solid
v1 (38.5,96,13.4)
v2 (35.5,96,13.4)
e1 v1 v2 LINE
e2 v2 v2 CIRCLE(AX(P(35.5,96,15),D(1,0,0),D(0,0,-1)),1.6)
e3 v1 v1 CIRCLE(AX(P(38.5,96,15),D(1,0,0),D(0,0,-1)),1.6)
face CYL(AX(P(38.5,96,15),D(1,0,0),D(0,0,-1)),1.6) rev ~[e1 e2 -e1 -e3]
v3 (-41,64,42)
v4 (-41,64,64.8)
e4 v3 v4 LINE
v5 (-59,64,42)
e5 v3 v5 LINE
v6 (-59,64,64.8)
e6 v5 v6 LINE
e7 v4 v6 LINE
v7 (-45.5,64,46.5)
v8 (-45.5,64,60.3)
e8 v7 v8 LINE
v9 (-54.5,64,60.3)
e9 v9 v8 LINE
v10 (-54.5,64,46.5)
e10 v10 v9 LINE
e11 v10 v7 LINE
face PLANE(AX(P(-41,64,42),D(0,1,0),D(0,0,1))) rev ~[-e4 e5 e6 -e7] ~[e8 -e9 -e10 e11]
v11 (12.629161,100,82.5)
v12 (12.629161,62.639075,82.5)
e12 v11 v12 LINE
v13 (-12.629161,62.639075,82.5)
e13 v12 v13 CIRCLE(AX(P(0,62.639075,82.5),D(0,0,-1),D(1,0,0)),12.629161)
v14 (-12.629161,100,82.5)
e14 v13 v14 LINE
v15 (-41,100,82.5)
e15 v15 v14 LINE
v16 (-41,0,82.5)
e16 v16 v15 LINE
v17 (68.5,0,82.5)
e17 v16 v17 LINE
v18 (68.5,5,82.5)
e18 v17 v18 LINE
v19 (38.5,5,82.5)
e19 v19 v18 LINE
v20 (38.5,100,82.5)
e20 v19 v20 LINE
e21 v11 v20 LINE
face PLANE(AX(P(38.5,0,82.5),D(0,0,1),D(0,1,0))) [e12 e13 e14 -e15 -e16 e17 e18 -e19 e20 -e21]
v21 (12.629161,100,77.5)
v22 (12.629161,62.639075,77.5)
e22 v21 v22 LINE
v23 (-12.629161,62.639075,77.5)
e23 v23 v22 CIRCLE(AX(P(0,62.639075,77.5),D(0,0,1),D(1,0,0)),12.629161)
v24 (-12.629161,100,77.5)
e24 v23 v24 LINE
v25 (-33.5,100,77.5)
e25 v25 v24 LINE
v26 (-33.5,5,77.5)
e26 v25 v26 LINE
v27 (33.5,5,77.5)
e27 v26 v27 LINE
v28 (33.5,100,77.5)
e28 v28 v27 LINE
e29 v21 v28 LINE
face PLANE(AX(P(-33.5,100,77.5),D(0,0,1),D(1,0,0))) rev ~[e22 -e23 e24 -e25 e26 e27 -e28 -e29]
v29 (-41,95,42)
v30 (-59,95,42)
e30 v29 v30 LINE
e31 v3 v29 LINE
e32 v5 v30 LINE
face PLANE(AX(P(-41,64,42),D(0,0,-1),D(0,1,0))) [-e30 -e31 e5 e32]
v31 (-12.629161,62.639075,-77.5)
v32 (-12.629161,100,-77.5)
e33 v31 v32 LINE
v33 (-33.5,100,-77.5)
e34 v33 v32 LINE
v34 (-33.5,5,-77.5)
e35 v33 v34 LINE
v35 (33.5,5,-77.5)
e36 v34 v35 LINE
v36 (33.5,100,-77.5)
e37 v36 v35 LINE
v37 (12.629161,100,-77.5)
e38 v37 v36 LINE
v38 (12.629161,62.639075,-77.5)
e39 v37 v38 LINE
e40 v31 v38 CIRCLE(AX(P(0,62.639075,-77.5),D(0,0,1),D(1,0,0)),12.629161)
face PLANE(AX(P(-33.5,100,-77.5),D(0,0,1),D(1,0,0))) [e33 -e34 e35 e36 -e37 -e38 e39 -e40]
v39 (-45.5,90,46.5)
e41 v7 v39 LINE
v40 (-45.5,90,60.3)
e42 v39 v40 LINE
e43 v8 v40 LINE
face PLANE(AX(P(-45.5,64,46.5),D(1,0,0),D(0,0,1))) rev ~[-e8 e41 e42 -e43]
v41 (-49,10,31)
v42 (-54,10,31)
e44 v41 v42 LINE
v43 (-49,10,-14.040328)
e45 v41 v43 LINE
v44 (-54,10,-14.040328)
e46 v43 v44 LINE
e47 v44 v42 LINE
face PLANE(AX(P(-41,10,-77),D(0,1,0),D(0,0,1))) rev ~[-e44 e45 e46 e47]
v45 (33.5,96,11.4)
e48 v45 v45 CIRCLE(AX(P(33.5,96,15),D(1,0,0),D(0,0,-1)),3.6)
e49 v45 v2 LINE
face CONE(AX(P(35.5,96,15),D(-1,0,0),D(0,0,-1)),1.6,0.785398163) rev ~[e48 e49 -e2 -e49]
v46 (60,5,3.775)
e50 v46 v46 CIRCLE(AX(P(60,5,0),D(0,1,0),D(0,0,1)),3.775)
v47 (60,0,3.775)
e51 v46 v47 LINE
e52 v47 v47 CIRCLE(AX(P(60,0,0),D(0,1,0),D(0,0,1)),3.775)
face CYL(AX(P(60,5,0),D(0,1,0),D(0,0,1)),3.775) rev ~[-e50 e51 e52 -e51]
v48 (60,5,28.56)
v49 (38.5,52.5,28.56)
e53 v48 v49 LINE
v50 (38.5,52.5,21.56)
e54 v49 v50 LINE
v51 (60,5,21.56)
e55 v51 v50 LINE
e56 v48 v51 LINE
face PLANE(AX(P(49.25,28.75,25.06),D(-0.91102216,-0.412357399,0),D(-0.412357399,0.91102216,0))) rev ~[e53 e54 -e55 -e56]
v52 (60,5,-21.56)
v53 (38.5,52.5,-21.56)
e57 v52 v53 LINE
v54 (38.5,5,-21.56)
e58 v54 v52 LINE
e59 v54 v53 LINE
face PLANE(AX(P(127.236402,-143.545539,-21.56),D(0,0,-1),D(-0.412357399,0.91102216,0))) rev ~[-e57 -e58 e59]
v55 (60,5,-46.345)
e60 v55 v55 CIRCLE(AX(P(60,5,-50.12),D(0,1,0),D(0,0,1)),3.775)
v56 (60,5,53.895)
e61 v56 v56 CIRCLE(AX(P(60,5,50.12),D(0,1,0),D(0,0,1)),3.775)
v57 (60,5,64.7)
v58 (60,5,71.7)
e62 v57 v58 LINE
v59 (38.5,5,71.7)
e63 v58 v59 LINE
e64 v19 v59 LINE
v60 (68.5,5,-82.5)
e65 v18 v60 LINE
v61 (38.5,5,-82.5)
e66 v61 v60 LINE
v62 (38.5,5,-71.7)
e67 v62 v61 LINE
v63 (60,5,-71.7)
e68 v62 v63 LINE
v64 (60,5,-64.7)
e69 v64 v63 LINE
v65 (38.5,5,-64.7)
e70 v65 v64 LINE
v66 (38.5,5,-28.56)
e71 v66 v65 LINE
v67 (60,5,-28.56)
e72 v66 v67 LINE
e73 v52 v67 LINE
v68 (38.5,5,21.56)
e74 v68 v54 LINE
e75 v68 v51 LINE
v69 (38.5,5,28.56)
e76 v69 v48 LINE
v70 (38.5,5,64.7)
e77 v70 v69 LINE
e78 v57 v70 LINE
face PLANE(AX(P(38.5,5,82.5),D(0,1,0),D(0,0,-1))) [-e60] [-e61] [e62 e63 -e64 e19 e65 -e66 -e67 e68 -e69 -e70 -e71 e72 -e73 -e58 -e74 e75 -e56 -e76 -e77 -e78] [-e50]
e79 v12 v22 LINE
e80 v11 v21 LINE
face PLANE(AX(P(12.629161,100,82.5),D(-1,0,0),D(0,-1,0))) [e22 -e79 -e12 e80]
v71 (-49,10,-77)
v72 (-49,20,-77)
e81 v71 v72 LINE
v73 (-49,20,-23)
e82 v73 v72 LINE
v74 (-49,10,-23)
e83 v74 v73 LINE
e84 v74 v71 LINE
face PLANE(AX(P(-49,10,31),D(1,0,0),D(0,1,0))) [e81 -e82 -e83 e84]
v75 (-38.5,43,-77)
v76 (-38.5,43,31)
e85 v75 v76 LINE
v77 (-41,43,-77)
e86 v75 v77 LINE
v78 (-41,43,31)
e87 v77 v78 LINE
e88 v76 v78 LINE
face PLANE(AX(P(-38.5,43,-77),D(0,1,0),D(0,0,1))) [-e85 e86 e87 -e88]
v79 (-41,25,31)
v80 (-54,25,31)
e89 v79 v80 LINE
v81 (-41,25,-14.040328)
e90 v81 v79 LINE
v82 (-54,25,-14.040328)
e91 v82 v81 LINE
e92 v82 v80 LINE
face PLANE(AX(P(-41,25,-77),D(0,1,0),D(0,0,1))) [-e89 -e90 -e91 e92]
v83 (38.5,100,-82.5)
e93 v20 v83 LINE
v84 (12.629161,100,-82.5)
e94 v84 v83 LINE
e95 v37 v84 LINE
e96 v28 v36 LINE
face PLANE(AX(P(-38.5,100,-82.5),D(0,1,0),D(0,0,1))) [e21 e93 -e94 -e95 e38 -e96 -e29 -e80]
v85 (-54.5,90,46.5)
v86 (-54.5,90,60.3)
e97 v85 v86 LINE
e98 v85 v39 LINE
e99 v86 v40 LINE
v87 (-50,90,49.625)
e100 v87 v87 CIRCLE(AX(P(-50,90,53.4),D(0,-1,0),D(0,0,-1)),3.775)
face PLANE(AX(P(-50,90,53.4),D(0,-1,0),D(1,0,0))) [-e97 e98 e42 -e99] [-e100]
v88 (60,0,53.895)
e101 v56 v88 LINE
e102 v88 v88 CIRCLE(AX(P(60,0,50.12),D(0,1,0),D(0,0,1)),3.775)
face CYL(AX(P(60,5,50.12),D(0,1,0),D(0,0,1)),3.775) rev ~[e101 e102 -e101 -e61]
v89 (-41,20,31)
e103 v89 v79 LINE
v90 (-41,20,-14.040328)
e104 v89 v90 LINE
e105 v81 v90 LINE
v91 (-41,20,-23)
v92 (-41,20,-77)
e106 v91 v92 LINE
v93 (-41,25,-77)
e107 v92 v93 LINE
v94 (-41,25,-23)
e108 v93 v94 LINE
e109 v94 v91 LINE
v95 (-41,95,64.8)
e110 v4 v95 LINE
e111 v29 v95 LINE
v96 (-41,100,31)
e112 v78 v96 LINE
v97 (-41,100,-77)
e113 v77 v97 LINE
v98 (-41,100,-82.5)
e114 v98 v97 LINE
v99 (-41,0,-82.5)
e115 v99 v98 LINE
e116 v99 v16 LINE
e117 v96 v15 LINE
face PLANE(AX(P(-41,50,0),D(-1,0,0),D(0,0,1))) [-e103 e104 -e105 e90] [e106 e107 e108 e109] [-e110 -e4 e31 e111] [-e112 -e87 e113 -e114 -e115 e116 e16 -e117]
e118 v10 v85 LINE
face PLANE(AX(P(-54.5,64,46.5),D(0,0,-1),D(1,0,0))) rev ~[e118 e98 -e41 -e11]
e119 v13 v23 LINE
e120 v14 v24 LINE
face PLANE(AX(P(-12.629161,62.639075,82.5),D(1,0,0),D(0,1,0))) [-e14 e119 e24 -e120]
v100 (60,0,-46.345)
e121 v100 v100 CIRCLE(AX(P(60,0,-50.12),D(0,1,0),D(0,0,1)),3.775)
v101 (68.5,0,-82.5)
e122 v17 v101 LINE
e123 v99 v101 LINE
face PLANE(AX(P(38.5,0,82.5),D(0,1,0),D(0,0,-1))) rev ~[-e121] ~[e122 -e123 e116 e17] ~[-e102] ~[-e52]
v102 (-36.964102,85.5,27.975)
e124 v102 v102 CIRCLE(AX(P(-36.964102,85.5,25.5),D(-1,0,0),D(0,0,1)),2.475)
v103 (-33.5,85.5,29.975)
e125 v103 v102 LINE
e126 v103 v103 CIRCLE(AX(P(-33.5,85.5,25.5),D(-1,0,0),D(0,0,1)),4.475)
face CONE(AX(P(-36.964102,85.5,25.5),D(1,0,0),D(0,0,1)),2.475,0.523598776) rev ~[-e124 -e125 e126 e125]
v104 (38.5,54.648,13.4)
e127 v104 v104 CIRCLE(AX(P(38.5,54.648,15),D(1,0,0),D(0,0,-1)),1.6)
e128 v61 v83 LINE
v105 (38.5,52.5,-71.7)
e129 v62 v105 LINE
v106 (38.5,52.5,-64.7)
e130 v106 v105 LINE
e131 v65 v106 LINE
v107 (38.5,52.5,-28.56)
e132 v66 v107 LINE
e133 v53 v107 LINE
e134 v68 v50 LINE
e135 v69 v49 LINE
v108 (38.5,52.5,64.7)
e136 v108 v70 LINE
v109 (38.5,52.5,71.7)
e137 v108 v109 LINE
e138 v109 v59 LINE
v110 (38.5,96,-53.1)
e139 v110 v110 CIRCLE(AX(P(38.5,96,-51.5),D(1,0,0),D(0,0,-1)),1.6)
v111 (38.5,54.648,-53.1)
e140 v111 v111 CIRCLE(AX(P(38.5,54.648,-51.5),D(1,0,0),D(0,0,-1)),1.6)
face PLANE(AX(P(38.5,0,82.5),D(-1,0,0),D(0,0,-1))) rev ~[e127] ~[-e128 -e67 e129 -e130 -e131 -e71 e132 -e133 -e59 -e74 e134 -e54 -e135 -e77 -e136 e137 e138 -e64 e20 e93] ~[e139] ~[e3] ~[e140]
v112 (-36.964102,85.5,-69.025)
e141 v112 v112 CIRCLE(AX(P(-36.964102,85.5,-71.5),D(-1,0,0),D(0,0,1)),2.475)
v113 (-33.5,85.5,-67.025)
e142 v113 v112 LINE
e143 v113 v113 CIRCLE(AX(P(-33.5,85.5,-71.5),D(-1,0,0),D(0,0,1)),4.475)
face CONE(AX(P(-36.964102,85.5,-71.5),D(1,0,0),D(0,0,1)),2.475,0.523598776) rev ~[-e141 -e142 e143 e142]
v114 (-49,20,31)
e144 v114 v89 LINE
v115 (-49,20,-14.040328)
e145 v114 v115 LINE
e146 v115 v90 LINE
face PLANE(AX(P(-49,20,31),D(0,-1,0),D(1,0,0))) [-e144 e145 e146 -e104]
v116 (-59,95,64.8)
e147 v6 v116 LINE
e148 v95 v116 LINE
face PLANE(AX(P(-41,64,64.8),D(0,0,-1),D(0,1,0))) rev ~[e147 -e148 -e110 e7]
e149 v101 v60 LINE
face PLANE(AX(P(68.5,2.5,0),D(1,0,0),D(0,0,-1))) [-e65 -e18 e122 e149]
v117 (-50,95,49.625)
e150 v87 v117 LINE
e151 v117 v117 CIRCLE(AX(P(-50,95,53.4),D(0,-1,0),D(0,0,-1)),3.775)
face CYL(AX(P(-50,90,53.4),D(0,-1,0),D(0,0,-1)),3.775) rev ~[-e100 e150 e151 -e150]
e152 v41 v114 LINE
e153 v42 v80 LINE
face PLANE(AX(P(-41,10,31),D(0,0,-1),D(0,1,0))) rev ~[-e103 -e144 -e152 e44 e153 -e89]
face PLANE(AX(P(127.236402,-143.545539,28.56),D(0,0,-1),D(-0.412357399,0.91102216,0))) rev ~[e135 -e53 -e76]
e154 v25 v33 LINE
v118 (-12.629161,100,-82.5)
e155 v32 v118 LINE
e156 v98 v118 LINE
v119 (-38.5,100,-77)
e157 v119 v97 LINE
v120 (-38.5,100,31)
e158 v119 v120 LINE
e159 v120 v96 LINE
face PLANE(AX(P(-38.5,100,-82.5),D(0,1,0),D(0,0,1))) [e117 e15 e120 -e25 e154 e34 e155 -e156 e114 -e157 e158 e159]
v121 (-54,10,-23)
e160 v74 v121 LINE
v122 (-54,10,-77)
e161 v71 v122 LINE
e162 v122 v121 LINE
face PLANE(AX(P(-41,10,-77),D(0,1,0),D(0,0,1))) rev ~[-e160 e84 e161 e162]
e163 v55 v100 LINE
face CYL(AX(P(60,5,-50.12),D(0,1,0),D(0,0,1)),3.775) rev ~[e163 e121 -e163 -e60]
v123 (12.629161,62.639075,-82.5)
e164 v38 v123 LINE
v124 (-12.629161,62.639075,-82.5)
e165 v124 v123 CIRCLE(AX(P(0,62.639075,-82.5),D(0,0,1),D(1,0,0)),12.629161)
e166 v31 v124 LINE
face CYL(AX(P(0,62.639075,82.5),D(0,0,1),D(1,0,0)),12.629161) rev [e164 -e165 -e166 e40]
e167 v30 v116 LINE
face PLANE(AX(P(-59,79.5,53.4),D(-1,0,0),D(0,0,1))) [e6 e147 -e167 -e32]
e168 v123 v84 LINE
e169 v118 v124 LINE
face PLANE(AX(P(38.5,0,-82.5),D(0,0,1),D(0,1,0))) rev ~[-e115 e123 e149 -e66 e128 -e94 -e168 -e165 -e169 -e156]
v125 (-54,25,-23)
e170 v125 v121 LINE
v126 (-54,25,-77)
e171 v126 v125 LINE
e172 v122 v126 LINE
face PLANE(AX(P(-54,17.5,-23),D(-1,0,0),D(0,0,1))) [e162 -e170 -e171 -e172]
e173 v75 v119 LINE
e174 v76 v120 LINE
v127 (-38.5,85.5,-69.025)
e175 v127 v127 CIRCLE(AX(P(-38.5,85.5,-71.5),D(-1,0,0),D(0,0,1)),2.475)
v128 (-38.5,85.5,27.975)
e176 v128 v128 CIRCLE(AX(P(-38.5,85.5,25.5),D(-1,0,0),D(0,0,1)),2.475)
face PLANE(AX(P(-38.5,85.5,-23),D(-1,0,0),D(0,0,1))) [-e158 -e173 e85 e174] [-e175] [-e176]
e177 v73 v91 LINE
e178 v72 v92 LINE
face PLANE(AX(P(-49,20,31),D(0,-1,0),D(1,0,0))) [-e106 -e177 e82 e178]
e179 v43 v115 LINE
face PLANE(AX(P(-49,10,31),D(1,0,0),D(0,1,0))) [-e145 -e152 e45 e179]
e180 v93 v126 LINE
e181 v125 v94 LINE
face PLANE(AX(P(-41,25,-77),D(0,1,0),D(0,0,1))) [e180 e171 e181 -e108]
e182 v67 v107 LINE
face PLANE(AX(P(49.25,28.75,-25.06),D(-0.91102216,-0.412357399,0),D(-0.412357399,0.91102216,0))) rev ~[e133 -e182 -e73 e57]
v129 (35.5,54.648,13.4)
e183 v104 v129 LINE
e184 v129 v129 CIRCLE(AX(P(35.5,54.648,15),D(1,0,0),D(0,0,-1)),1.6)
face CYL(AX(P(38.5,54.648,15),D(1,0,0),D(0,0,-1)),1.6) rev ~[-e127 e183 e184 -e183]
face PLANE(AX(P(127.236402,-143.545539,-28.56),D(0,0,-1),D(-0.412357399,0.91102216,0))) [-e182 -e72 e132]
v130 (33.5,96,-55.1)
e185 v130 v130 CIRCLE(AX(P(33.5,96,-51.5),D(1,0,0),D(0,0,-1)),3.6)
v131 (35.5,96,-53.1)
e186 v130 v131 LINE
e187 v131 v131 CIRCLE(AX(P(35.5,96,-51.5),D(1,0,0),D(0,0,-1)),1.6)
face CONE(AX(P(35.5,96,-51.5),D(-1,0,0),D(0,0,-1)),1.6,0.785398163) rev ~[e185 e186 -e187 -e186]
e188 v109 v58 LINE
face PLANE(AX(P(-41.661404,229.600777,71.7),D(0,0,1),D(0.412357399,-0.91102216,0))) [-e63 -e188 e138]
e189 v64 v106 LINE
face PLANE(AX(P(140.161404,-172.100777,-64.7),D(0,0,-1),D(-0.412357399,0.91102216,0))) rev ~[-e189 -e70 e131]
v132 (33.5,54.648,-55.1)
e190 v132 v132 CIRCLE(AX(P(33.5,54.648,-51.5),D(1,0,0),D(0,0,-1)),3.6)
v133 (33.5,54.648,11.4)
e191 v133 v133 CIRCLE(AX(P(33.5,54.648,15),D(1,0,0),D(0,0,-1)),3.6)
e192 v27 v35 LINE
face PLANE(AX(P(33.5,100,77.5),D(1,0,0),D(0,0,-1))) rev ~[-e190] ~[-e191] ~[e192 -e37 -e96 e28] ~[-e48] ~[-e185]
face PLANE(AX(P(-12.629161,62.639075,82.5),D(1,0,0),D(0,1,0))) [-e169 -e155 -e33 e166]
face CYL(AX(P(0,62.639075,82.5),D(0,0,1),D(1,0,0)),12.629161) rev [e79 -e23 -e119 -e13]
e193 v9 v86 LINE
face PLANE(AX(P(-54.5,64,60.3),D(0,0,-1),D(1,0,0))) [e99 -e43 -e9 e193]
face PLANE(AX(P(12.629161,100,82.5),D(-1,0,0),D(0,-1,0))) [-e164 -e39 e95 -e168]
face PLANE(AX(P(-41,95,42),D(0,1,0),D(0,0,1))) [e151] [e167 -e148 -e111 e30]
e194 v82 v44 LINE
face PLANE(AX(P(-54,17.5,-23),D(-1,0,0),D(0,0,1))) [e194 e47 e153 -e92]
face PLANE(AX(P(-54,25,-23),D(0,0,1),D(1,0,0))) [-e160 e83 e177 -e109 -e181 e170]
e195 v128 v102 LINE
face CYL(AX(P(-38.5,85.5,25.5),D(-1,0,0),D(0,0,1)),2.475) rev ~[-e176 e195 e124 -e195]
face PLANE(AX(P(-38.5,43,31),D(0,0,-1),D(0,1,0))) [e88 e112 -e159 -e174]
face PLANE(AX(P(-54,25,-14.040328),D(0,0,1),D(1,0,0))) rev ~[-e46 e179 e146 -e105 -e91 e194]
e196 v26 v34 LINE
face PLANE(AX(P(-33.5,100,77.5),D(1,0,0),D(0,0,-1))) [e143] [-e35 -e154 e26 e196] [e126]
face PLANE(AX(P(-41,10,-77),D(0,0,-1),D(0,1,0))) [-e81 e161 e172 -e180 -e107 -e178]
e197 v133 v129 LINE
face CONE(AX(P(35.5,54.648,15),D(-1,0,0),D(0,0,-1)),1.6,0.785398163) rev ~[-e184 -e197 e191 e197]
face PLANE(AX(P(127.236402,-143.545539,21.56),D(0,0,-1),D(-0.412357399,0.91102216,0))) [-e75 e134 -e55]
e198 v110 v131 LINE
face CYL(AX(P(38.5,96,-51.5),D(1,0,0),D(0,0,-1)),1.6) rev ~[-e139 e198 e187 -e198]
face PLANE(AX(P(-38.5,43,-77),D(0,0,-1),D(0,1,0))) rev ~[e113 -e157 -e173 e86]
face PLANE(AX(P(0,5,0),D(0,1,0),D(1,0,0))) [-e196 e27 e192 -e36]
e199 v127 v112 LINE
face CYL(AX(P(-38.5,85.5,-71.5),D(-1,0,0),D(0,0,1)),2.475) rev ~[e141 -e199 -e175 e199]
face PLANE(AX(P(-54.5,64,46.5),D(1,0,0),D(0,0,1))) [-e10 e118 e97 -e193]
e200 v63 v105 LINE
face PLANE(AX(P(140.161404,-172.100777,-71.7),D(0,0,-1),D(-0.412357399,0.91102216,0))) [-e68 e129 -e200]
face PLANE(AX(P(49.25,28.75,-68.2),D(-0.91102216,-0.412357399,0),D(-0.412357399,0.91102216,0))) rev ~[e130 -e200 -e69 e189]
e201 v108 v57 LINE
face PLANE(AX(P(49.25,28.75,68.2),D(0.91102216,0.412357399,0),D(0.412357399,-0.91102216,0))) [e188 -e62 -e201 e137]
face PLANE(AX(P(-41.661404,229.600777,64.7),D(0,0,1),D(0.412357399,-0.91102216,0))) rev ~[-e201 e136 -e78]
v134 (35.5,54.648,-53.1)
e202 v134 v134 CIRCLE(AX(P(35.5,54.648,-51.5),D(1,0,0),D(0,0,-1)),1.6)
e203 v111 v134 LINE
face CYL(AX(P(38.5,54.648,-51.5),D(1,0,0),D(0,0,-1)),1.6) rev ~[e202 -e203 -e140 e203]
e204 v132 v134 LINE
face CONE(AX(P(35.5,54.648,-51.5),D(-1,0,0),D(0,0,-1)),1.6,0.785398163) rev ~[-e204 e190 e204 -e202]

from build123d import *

# Parameters (mm, degrees)
SKETCH1_W           = 77
SKETCH1_H           = 165
BOSS_EXTRUDE2_DEPTH = 100
SKETCH4_W           = 67
SKETCH4_H           = 155
CUT_EXTRUDE1_DEPTH  = 95
SKETCH7_W           = 165
SKETCH7_H           = 100
BOSS_EXTRUDE4_DEPTH = 2.5
SKETCH5_W           = 108
SKETCH5_H           = 85
CUT_EXTRUDE2_DEPTH  = 2.5
CUT_EXTRUDE3_REACH  = 152.782
SKETCH9_R           = 2.475
CUT_EXTRUDE4_DEPTH  = 198.24603925
SKETCH11_W          = 165
SKETCH11_H          = 5
BOSS_EXTRUDE5_DEPTH = 30
SKETCH12_R          = 3.775
CUT_EXTRUDE5_DEPTH  = 144.260252687
RIB2_REACH          = 164.054
SKETCH17_WALL_W     = 378.24664849
SKETCH17_WALL_H     = 7
RIB3_REACH          = 195.398
SKETCH18_WALL_W     = 440.934996724
SKETCH18_WALL_H     = 7
RIB5_REACH          = 195.398
SKETCH20_WALL_W     = 440.934996724
SKETCH20_WALL_H     = 7
RIB6_REACH          = 164.054
SKETCH19_WALL_W     = 378.24664849
SKETCH19_WALL_H     = 7
SKETCH21_W          = 108
SKETCH21_H          = 15
BOSS_EXTRUDE6_DEPTH = 13
CUT_EXTRUDE6_REACH  = 168.056
SKETCH23_W          = 8
SKETCH23_H          = 10
SKETCH24_W          = 22.8
SKETCH24_H          = 31
BOSS_EXTRUDE7_DEPTH = 18
CHAMFER1_SIZE       = 2
CHAMFER1_SIZE2      = 3.464101615
CHAMFER2_SIZE       = 2
CHAMFER2_SIZE2      = 3.464101615
SKETCH25_W          = 9
SKETCH25_H          = 13.8
CUT_EXTRUDE7_DEPTH  = 26
CUT_EXTRUDE8_REACH  = 141.995
SKETCH26_R          = 3.775
CUT_EXTRUDE10_REACH = 164.211
SKETCH28_R          = 1.6
CHAMFER3_SIZE       = 2
CHAMFER4_SIZE       = 2
CHAMFER5_SIZE       = 2
CHAMFER6_SIZE       = 2
CUT_EXTRUDE11_REACH = 132.857
SKETCH29_W          = 13
SKETCH29_H          = 8.959672406


with BuildPart() as part:
    # Sketch1 → Boss-Extrude2 (new body)
    with BuildSketch(Plane(origin=(0, 0, 0), x_dir=(1, 0, 0), z_dir=(0, 1, 0))):
        Rectangle(SKETCH1_W, SKETCH1_H)
    extrude(amount=BOSS_EXTRUDE2_DEPTH)

    # Sketch4 → Cut-Extrude1 (cut)
    with BuildSketch(Plane(origin=(0, 100, 0), x_dir=(1, 0, 0), z_dir=(0, 1, 0))):
        Rectangle(SKETCH4_W, SKETCH4_H)
    extrude(amount=-CUT_EXTRUDE1_DEPTH, mode=Mode.SUBTRACT)

    # Sketch7 → Boss-Extrude4 (add)
    with BuildSketch(Plane.ZY.offset(38.5)):
        with Locations((0, 50)):
            Rectangle(SKETCH7_W, SKETCH7_H)
    extrude(amount=BOSS_EXTRUDE4_DEPTH)

    # Sketch5 → Cut-Extrude2 (cut)
    with BuildSketch(Plane.ZY.offset(38.5)):
        with Locations((-23, 85.5)):
            Rectangle(SKETCH5_W, SKETCH5_H)
    extrude(amount=CUT_EXTRUDE2_DEPTH, mode=Mode.SUBTRACT)

    # Sketch9 → Cut-Extrude3 (cut, up to next)
    with BuildSketch(Plane.ZY.offset(38.5), mode=Mode.PRIVATE) as cut_extrude3_sk1:
        with Locations((-71.5, 85.5)):
            Circle(SKETCH9_R)
    cut_extrude3_tool1 = extrude(cut_extrude3_sk1.sketch, amount=-CUT_EXTRUDE3_REACH, mode=Mode.PRIVATE) & part.part
    # Sketch9 → Cut-Extrude3 (cut, up to next)
    with BuildSketch(Plane.ZY.offset(38.5), mode=Mode.PRIVATE) as cut_extrude3_sk2:
        with Locations((25.5, 85.5)):
            Circle(SKETCH9_R)
    cut_extrude3_tool2 = extrude(cut_extrude3_sk2.sketch, amount=-CUT_EXTRUDE3_REACH, mode=Mode.PRIVATE) & part.part
    add(cut_extrude3_tool1.solids().sort_by_distance((-38.5, 85.5, -71.5))[0], mode=Mode.SUBTRACT)
    add(cut_extrude3_tool2.solids().sort_by_distance((-38.5, 85.5, 25.5))[0], mode=Mode.SUBTRACT)

    # Sketch10 → Cut-Extrude4 (cut, through all)
    with BuildSketch(Plane.XY.offset(82.5)):
        with BuildLine():
            Line((12.62916064, 100), (12.62916064, 62.639075144))
            ThreePointArc((12.62916064, 62.639075144), (0, 50.009914504), (-12.62916064, 62.639075144))
            Line((-12.62916064, 62.639075144), (-12.62916064, 100))
            ThreePointArc((-12.62916064, 100), (0, 112.62916064), (12.62916064, 100))
        make_face()
    extrude(amount=-CUT_EXTRUDE4_DEPTH, mode=Mode.SUBTRACT)

    # Sketch11 → Boss-Extrude5 (add)
    with BuildSketch(Plane(origin=(38.5, 0, 0), x_dir=(0, 0, -1), z_dir=(1, 0, 0))):
        with Locations((0, 2.5)):
            Rectangle(SKETCH11_W, SKETCH11_H)
    extrude(amount=BOSS_EXTRUDE5_DEPTH)

    # Sketch12 → Cut-Extrude5 (cut, through all)
    with BuildSketch(Plane(origin=(0, 5, 0), x_dir=(1, 0, 0), z_dir=(0, 1, 0))):
        with Locations((60, 50.12)):
            Circle(SKETCH12_R)
        with Locations((60, 0)):
            Circle(SKETCH12_R)
        with Locations((60, -50.12)):
            Circle(SKETCH12_R)
    extrude(amount=-CUT_EXTRUDE5_DEPTH, mode=Mode.SUBTRACT)

    # Sketch17 wall → Rib2 (add, up to next)
    with BuildSketch(Plane(origin=(49.25, 28.75, 25.06), x_dir=(-0.412357398674, 0.911022159861, 0), z_dir=(-0.911022159861, -0.412357398674, 0)), mode=Mode.PRIVATE) as rib2_sk1:
        Rectangle(SKETCH17_WALL_W, SKETCH17_WALL_H)
    rib2_tool1 = extrude(rib2_sk1.sketch, amount=RIB2_REACH, mode=Mode.PRIVATE) - part.part
    add(rib2_tool1.solids().sort_by_distance((49.25, 28.75, 25.06))[0])

    # Sketch18 wall → Rib3 (add, up to next)
    with BuildSketch(Plane(origin=(49.25, 28.75, 68.2), x_dir=(0.412357398674, -0.911022159861, 0), z_dir=(0.911022159861, 0.412357398674, 0)), mode=Mode.PRIVATE) as rib3_sk1:
        Rectangle(SKETCH18_WALL_W, SKETCH18_WALL_H)
    rib3_tool1 = extrude(rib3_sk1.sketch, amount=-RIB3_REACH, mode=Mode.PRIVATE) - part.part
    add(rib3_tool1.solids().sort_by_distance((49.25, 28.75, 68.2))[0])

    # Sketch20 wall → Rib5 (add, up to next)
    with BuildSketch(Plane(origin=(49.25, 28.75, -68.2), x_dir=(-0.412357398674, 0.911022159861, 0), z_dir=(-0.911022159861, -0.412357398674, 0)), mode=Mode.PRIVATE) as rib5_sk1:
        Rectangle(SKETCH20_WALL_W, SKETCH20_WALL_H)
    rib5_tool1 = extrude(rib5_sk1.sketch, amount=RIB5_REACH, mode=Mode.PRIVATE) - part.part
    add(rib5_tool1.solids().sort_by_distance((49.25, 28.75, -68.2))[0])

    # Sketch19 wall → Rib6 (add, up to next)
    with BuildSketch(Plane(origin=(49.25, 28.75, -25.06), x_dir=(-0.412357398674, 0.911022159861, 0), z_dir=(-0.911022159861, -0.412357398674, 0)), mode=Mode.PRIVATE) as rib6_sk1:
        Rectangle(SKETCH19_WALL_W, SKETCH19_WALL_H)
    rib6_tool1 = extrude(rib6_sk1.sketch, amount=RIB6_REACH, mode=Mode.PRIVATE) - part.part
    add(rib6_tool1.solids().sort_by_distance((49.25, 28.75, -25.06))[0])

    # Sketch21 → Boss-Extrude6 (add)
    with BuildSketch(Plane.ZY.offset(41)):
        with Locations((-23, 17.5)):
            Rectangle(SKETCH21_W, SKETCH21_H)
    extrude(amount=BOSS_EXTRUDE6_DEPTH)

    # Sketch23 → Cut-Extrude6 (cut, up to next)
    with BuildSketch(Plane.XY.offset(31), mode=Mode.PRIVATE) as cut_extrude6_sk1:
        with Locations((-45, 15)):
            Rectangle(SKETCH23_W, SKETCH23_H)
    cut_extrude6_tool1 = extrude(cut_extrude6_sk1.sketch, amount=-CUT_EXTRUDE6_REACH, mode=Mode.PRIVATE) & part.part
    add(cut_extrude6_tool1.solids().sort_by_distance((-45, 15, 31))[0], mode=Mode.SUBTRACT)

    # Sketch24 → Boss-Extrude7 (add)
    with BuildSketch(Plane.ZY.offset(41)):
        with Locations((53.4, 79.5)):
            Rectangle(SKETCH24_W, SKETCH24_H)
    extrude(amount=BOSS_EXTRUDE7_DEPTH)

    # Chamfer1
    chamfer1_edges = [part.edges().sort_by_distance(p)[0] for p in [
        (-33.5, 85.5, 23.025),
    ]]
    chamfer1_side = [part.faces().sort_by_distance(p)[0] for p in [
        (-33.5, 52.413518032, 0.060275311),
    ]]
    chamfer(chamfer1_edges, length=CHAMFER1_SIZE, length2=CHAMFER1_SIZE2, reference=chamfer1_side[0])

    # Chamfer2
    chamfer2_edges = [part.edges().sort_by_distance(p)[0] for p in [
        (-33.5, 85.5, -73.975),
    ]]
    chamfer2_side = [part.faces().sort_by_distance(p)[0] for p in [
        (-33.5, 52.31484696, -0.015591471),
    ]]
    chamfer(chamfer2_edges, length=CHAMFER2_SIZE, length2=CHAMFER2_SIZE2, reference=chamfer2_side[0])

    # Sketch25 → Cut-Extrude7 (cut)
    with BuildSketch(Plane.XZ.offset(-64)):
        with Locations((-50, 53.4)):
            Rectangle(SKETCH25_W, SKETCH25_H)
    extrude(amount=-CUT_EXTRUDE7_DEPTH, mode=Mode.SUBTRACT)

    # Sketch26 → Cut-Extrude8 (cut, up to next)
    with BuildSketch(Plane.XZ.offset(-90), mode=Mode.PRIVATE) as cut_extrude8_sk1:
        with Locations((-50, 53.4)):
            Circle(SKETCH26_R)
    cut_extrude8_tool1 = extrude(cut_extrude8_sk1.sketch, amount=-CUT_EXTRUDE8_REACH, mode=Mode.PRIVATE) & part.part
    add(cut_extrude8_tool1.solids().sort_by_distance((-50, 90, 53.4))[0], mode=Mode.SUBTRACT)

    # Sketch28 → Cut-Extrude10 (cut, up to next)
    with BuildSketch(Plane(origin=(38.5, 0, 0), x_dir=(0, 0, -1), z_dir=(1, 0, 0)), mode=Mode.PRIVATE) as cut_extrude10_sk1:
        with Locations((-15, 96)):
            Circle(SKETCH28_R)
    cut_extrude10_tool1 = extrude(cut_extrude10_sk1.sketch, amount=-CUT_EXTRUDE10_REACH, mode=Mode.PRIVATE) & part.part
    # Sketch28 → Cut-Extrude10 (cut, up to next)
    with BuildSketch(Plane(origin=(38.5, 0, 0), x_dir=(0, 0, -1), z_dir=(1, 0, 0)), mode=Mode.PRIVATE) as cut_extrude10_sk2:
        with Locations((-15, 54.648)):
            Circle(SKETCH28_R)
    cut_extrude10_tool2 = extrude(cut_extrude10_sk2.sketch, amount=-CUT_EXTRUDE10_REACH, mode=Mode.PRIVATE) & part.part
    # Sketch28 → Cut-Extrude10 (cut, up to next)
    with BuildSketch(Plane(origin=(38.5, 0, 0), x_dir=(0, 0, -1), z_dir=(1, 0, 0)), mode=Mode.PRIVATE) as cut_extrude10_sk3:
        with Locations((51.5, 96)):
            Circle(SKETCH28_R)
    cut_extrude10_tool3 = extrude(cut_extrude10_sk3.sketch, amount=-CUT_EXTRUDE10_REACH, mode=Mode.PRIVATE) & part.part
    # Sketch28 → Cut-Extrude10 (cut, up to next)
    with BuildSketch(Plane(origin=(38.5, 0, 0), x_dir=(0, 0, -1), z_dir=(1, 0, 0)), mode=Mode.PRIVATE) as cut_extrude10_sk4:
        with Locations((51.5, 54.648)):
            Circle(SKETCH28_R)
    cut_extrude10_tool4 = extrude(cut_extrude10_sk4.sketch, amount=-CUT_EXTRUDE10_REACH, mode=Mode.PRIVATE) & part.part
    add(cut_extrude10_tool1.solids().sort_by_distance((38.5, 96, 15))[0], mode=Mode.SUBTRACT)
    add(cut_extrude10_tool2.solids().sort_by_distance((38.5, 54.648, 15))[0], mode=Mode.SUBTRACT)
    add(cut_extrude10_tool3.solids().sort_by_distance((38.5, 96, -51.5))[0], mode=Mode.SUBTRACT)
    add(cut_extrude10_tool4.solids().sort_by_distance((38.5, 54.648, -51.5))[0], mode=Mode.SUBTRACT)

    # Chamfer3
    chamfer3_edges = [part.edges().sort_by_distance(p)[0] for p in [
        (33.5, 96, 16.6),
    ]]
    chamfer(chamfer3_edges, length=CHAMFER3_SIZE)

    # Chamfer4
    chamfer4_edges = [part.edges().sort_by_distance(p)[0] for p in [
        (33.5, 54.648, 16.6),
    ]]
    chamfer(chamfer4_edges, length=CHAMFER4_SIZE)

    # Chamfer5
    chamfer5_edges = [part.edges().sort_by_distance(p)[0] for p in [
        (33.5, 96, -49.9),
    ]]
    chamfer(chamfer5_edges, length=CHAMFER5_SIZE)

    # Chamfer6
    chamfer6_edges = [part.edges().sort_by_distance(p)[0] for p in [
        (33.5, 54.648, -49.9),
    ]]
    chamfer(chamfer6_edges, length=CHAMFER6_SIZE)

    # Sketch29 → Cut-Extrude11 (cut, up to next)
    with BuildSketch(Plane(origin=(0, 25, 0), x_dir=(1, 0, 0), z_dir=(0, 1, 0)), mode=Mode.PRIVATE) as cut_extrude11_sk1:
        with Locations((-47.5, 18.520163797)):
            Rectangle(SKETCH29_W, SKETCH29_H)
    cut_extrude11_tool1 = extrude(cut_extrude11_sk1.sketch, amount=-CUT_EXTRUDE11_REACH, mode=Mode.PRIVATE) & part.part
    add(cut_extrude11_tool1.solids().sort_by_distance((-47.5, 25, -18.520164))[0], mode=Mode.SUBTRACT)


solid = part.part
